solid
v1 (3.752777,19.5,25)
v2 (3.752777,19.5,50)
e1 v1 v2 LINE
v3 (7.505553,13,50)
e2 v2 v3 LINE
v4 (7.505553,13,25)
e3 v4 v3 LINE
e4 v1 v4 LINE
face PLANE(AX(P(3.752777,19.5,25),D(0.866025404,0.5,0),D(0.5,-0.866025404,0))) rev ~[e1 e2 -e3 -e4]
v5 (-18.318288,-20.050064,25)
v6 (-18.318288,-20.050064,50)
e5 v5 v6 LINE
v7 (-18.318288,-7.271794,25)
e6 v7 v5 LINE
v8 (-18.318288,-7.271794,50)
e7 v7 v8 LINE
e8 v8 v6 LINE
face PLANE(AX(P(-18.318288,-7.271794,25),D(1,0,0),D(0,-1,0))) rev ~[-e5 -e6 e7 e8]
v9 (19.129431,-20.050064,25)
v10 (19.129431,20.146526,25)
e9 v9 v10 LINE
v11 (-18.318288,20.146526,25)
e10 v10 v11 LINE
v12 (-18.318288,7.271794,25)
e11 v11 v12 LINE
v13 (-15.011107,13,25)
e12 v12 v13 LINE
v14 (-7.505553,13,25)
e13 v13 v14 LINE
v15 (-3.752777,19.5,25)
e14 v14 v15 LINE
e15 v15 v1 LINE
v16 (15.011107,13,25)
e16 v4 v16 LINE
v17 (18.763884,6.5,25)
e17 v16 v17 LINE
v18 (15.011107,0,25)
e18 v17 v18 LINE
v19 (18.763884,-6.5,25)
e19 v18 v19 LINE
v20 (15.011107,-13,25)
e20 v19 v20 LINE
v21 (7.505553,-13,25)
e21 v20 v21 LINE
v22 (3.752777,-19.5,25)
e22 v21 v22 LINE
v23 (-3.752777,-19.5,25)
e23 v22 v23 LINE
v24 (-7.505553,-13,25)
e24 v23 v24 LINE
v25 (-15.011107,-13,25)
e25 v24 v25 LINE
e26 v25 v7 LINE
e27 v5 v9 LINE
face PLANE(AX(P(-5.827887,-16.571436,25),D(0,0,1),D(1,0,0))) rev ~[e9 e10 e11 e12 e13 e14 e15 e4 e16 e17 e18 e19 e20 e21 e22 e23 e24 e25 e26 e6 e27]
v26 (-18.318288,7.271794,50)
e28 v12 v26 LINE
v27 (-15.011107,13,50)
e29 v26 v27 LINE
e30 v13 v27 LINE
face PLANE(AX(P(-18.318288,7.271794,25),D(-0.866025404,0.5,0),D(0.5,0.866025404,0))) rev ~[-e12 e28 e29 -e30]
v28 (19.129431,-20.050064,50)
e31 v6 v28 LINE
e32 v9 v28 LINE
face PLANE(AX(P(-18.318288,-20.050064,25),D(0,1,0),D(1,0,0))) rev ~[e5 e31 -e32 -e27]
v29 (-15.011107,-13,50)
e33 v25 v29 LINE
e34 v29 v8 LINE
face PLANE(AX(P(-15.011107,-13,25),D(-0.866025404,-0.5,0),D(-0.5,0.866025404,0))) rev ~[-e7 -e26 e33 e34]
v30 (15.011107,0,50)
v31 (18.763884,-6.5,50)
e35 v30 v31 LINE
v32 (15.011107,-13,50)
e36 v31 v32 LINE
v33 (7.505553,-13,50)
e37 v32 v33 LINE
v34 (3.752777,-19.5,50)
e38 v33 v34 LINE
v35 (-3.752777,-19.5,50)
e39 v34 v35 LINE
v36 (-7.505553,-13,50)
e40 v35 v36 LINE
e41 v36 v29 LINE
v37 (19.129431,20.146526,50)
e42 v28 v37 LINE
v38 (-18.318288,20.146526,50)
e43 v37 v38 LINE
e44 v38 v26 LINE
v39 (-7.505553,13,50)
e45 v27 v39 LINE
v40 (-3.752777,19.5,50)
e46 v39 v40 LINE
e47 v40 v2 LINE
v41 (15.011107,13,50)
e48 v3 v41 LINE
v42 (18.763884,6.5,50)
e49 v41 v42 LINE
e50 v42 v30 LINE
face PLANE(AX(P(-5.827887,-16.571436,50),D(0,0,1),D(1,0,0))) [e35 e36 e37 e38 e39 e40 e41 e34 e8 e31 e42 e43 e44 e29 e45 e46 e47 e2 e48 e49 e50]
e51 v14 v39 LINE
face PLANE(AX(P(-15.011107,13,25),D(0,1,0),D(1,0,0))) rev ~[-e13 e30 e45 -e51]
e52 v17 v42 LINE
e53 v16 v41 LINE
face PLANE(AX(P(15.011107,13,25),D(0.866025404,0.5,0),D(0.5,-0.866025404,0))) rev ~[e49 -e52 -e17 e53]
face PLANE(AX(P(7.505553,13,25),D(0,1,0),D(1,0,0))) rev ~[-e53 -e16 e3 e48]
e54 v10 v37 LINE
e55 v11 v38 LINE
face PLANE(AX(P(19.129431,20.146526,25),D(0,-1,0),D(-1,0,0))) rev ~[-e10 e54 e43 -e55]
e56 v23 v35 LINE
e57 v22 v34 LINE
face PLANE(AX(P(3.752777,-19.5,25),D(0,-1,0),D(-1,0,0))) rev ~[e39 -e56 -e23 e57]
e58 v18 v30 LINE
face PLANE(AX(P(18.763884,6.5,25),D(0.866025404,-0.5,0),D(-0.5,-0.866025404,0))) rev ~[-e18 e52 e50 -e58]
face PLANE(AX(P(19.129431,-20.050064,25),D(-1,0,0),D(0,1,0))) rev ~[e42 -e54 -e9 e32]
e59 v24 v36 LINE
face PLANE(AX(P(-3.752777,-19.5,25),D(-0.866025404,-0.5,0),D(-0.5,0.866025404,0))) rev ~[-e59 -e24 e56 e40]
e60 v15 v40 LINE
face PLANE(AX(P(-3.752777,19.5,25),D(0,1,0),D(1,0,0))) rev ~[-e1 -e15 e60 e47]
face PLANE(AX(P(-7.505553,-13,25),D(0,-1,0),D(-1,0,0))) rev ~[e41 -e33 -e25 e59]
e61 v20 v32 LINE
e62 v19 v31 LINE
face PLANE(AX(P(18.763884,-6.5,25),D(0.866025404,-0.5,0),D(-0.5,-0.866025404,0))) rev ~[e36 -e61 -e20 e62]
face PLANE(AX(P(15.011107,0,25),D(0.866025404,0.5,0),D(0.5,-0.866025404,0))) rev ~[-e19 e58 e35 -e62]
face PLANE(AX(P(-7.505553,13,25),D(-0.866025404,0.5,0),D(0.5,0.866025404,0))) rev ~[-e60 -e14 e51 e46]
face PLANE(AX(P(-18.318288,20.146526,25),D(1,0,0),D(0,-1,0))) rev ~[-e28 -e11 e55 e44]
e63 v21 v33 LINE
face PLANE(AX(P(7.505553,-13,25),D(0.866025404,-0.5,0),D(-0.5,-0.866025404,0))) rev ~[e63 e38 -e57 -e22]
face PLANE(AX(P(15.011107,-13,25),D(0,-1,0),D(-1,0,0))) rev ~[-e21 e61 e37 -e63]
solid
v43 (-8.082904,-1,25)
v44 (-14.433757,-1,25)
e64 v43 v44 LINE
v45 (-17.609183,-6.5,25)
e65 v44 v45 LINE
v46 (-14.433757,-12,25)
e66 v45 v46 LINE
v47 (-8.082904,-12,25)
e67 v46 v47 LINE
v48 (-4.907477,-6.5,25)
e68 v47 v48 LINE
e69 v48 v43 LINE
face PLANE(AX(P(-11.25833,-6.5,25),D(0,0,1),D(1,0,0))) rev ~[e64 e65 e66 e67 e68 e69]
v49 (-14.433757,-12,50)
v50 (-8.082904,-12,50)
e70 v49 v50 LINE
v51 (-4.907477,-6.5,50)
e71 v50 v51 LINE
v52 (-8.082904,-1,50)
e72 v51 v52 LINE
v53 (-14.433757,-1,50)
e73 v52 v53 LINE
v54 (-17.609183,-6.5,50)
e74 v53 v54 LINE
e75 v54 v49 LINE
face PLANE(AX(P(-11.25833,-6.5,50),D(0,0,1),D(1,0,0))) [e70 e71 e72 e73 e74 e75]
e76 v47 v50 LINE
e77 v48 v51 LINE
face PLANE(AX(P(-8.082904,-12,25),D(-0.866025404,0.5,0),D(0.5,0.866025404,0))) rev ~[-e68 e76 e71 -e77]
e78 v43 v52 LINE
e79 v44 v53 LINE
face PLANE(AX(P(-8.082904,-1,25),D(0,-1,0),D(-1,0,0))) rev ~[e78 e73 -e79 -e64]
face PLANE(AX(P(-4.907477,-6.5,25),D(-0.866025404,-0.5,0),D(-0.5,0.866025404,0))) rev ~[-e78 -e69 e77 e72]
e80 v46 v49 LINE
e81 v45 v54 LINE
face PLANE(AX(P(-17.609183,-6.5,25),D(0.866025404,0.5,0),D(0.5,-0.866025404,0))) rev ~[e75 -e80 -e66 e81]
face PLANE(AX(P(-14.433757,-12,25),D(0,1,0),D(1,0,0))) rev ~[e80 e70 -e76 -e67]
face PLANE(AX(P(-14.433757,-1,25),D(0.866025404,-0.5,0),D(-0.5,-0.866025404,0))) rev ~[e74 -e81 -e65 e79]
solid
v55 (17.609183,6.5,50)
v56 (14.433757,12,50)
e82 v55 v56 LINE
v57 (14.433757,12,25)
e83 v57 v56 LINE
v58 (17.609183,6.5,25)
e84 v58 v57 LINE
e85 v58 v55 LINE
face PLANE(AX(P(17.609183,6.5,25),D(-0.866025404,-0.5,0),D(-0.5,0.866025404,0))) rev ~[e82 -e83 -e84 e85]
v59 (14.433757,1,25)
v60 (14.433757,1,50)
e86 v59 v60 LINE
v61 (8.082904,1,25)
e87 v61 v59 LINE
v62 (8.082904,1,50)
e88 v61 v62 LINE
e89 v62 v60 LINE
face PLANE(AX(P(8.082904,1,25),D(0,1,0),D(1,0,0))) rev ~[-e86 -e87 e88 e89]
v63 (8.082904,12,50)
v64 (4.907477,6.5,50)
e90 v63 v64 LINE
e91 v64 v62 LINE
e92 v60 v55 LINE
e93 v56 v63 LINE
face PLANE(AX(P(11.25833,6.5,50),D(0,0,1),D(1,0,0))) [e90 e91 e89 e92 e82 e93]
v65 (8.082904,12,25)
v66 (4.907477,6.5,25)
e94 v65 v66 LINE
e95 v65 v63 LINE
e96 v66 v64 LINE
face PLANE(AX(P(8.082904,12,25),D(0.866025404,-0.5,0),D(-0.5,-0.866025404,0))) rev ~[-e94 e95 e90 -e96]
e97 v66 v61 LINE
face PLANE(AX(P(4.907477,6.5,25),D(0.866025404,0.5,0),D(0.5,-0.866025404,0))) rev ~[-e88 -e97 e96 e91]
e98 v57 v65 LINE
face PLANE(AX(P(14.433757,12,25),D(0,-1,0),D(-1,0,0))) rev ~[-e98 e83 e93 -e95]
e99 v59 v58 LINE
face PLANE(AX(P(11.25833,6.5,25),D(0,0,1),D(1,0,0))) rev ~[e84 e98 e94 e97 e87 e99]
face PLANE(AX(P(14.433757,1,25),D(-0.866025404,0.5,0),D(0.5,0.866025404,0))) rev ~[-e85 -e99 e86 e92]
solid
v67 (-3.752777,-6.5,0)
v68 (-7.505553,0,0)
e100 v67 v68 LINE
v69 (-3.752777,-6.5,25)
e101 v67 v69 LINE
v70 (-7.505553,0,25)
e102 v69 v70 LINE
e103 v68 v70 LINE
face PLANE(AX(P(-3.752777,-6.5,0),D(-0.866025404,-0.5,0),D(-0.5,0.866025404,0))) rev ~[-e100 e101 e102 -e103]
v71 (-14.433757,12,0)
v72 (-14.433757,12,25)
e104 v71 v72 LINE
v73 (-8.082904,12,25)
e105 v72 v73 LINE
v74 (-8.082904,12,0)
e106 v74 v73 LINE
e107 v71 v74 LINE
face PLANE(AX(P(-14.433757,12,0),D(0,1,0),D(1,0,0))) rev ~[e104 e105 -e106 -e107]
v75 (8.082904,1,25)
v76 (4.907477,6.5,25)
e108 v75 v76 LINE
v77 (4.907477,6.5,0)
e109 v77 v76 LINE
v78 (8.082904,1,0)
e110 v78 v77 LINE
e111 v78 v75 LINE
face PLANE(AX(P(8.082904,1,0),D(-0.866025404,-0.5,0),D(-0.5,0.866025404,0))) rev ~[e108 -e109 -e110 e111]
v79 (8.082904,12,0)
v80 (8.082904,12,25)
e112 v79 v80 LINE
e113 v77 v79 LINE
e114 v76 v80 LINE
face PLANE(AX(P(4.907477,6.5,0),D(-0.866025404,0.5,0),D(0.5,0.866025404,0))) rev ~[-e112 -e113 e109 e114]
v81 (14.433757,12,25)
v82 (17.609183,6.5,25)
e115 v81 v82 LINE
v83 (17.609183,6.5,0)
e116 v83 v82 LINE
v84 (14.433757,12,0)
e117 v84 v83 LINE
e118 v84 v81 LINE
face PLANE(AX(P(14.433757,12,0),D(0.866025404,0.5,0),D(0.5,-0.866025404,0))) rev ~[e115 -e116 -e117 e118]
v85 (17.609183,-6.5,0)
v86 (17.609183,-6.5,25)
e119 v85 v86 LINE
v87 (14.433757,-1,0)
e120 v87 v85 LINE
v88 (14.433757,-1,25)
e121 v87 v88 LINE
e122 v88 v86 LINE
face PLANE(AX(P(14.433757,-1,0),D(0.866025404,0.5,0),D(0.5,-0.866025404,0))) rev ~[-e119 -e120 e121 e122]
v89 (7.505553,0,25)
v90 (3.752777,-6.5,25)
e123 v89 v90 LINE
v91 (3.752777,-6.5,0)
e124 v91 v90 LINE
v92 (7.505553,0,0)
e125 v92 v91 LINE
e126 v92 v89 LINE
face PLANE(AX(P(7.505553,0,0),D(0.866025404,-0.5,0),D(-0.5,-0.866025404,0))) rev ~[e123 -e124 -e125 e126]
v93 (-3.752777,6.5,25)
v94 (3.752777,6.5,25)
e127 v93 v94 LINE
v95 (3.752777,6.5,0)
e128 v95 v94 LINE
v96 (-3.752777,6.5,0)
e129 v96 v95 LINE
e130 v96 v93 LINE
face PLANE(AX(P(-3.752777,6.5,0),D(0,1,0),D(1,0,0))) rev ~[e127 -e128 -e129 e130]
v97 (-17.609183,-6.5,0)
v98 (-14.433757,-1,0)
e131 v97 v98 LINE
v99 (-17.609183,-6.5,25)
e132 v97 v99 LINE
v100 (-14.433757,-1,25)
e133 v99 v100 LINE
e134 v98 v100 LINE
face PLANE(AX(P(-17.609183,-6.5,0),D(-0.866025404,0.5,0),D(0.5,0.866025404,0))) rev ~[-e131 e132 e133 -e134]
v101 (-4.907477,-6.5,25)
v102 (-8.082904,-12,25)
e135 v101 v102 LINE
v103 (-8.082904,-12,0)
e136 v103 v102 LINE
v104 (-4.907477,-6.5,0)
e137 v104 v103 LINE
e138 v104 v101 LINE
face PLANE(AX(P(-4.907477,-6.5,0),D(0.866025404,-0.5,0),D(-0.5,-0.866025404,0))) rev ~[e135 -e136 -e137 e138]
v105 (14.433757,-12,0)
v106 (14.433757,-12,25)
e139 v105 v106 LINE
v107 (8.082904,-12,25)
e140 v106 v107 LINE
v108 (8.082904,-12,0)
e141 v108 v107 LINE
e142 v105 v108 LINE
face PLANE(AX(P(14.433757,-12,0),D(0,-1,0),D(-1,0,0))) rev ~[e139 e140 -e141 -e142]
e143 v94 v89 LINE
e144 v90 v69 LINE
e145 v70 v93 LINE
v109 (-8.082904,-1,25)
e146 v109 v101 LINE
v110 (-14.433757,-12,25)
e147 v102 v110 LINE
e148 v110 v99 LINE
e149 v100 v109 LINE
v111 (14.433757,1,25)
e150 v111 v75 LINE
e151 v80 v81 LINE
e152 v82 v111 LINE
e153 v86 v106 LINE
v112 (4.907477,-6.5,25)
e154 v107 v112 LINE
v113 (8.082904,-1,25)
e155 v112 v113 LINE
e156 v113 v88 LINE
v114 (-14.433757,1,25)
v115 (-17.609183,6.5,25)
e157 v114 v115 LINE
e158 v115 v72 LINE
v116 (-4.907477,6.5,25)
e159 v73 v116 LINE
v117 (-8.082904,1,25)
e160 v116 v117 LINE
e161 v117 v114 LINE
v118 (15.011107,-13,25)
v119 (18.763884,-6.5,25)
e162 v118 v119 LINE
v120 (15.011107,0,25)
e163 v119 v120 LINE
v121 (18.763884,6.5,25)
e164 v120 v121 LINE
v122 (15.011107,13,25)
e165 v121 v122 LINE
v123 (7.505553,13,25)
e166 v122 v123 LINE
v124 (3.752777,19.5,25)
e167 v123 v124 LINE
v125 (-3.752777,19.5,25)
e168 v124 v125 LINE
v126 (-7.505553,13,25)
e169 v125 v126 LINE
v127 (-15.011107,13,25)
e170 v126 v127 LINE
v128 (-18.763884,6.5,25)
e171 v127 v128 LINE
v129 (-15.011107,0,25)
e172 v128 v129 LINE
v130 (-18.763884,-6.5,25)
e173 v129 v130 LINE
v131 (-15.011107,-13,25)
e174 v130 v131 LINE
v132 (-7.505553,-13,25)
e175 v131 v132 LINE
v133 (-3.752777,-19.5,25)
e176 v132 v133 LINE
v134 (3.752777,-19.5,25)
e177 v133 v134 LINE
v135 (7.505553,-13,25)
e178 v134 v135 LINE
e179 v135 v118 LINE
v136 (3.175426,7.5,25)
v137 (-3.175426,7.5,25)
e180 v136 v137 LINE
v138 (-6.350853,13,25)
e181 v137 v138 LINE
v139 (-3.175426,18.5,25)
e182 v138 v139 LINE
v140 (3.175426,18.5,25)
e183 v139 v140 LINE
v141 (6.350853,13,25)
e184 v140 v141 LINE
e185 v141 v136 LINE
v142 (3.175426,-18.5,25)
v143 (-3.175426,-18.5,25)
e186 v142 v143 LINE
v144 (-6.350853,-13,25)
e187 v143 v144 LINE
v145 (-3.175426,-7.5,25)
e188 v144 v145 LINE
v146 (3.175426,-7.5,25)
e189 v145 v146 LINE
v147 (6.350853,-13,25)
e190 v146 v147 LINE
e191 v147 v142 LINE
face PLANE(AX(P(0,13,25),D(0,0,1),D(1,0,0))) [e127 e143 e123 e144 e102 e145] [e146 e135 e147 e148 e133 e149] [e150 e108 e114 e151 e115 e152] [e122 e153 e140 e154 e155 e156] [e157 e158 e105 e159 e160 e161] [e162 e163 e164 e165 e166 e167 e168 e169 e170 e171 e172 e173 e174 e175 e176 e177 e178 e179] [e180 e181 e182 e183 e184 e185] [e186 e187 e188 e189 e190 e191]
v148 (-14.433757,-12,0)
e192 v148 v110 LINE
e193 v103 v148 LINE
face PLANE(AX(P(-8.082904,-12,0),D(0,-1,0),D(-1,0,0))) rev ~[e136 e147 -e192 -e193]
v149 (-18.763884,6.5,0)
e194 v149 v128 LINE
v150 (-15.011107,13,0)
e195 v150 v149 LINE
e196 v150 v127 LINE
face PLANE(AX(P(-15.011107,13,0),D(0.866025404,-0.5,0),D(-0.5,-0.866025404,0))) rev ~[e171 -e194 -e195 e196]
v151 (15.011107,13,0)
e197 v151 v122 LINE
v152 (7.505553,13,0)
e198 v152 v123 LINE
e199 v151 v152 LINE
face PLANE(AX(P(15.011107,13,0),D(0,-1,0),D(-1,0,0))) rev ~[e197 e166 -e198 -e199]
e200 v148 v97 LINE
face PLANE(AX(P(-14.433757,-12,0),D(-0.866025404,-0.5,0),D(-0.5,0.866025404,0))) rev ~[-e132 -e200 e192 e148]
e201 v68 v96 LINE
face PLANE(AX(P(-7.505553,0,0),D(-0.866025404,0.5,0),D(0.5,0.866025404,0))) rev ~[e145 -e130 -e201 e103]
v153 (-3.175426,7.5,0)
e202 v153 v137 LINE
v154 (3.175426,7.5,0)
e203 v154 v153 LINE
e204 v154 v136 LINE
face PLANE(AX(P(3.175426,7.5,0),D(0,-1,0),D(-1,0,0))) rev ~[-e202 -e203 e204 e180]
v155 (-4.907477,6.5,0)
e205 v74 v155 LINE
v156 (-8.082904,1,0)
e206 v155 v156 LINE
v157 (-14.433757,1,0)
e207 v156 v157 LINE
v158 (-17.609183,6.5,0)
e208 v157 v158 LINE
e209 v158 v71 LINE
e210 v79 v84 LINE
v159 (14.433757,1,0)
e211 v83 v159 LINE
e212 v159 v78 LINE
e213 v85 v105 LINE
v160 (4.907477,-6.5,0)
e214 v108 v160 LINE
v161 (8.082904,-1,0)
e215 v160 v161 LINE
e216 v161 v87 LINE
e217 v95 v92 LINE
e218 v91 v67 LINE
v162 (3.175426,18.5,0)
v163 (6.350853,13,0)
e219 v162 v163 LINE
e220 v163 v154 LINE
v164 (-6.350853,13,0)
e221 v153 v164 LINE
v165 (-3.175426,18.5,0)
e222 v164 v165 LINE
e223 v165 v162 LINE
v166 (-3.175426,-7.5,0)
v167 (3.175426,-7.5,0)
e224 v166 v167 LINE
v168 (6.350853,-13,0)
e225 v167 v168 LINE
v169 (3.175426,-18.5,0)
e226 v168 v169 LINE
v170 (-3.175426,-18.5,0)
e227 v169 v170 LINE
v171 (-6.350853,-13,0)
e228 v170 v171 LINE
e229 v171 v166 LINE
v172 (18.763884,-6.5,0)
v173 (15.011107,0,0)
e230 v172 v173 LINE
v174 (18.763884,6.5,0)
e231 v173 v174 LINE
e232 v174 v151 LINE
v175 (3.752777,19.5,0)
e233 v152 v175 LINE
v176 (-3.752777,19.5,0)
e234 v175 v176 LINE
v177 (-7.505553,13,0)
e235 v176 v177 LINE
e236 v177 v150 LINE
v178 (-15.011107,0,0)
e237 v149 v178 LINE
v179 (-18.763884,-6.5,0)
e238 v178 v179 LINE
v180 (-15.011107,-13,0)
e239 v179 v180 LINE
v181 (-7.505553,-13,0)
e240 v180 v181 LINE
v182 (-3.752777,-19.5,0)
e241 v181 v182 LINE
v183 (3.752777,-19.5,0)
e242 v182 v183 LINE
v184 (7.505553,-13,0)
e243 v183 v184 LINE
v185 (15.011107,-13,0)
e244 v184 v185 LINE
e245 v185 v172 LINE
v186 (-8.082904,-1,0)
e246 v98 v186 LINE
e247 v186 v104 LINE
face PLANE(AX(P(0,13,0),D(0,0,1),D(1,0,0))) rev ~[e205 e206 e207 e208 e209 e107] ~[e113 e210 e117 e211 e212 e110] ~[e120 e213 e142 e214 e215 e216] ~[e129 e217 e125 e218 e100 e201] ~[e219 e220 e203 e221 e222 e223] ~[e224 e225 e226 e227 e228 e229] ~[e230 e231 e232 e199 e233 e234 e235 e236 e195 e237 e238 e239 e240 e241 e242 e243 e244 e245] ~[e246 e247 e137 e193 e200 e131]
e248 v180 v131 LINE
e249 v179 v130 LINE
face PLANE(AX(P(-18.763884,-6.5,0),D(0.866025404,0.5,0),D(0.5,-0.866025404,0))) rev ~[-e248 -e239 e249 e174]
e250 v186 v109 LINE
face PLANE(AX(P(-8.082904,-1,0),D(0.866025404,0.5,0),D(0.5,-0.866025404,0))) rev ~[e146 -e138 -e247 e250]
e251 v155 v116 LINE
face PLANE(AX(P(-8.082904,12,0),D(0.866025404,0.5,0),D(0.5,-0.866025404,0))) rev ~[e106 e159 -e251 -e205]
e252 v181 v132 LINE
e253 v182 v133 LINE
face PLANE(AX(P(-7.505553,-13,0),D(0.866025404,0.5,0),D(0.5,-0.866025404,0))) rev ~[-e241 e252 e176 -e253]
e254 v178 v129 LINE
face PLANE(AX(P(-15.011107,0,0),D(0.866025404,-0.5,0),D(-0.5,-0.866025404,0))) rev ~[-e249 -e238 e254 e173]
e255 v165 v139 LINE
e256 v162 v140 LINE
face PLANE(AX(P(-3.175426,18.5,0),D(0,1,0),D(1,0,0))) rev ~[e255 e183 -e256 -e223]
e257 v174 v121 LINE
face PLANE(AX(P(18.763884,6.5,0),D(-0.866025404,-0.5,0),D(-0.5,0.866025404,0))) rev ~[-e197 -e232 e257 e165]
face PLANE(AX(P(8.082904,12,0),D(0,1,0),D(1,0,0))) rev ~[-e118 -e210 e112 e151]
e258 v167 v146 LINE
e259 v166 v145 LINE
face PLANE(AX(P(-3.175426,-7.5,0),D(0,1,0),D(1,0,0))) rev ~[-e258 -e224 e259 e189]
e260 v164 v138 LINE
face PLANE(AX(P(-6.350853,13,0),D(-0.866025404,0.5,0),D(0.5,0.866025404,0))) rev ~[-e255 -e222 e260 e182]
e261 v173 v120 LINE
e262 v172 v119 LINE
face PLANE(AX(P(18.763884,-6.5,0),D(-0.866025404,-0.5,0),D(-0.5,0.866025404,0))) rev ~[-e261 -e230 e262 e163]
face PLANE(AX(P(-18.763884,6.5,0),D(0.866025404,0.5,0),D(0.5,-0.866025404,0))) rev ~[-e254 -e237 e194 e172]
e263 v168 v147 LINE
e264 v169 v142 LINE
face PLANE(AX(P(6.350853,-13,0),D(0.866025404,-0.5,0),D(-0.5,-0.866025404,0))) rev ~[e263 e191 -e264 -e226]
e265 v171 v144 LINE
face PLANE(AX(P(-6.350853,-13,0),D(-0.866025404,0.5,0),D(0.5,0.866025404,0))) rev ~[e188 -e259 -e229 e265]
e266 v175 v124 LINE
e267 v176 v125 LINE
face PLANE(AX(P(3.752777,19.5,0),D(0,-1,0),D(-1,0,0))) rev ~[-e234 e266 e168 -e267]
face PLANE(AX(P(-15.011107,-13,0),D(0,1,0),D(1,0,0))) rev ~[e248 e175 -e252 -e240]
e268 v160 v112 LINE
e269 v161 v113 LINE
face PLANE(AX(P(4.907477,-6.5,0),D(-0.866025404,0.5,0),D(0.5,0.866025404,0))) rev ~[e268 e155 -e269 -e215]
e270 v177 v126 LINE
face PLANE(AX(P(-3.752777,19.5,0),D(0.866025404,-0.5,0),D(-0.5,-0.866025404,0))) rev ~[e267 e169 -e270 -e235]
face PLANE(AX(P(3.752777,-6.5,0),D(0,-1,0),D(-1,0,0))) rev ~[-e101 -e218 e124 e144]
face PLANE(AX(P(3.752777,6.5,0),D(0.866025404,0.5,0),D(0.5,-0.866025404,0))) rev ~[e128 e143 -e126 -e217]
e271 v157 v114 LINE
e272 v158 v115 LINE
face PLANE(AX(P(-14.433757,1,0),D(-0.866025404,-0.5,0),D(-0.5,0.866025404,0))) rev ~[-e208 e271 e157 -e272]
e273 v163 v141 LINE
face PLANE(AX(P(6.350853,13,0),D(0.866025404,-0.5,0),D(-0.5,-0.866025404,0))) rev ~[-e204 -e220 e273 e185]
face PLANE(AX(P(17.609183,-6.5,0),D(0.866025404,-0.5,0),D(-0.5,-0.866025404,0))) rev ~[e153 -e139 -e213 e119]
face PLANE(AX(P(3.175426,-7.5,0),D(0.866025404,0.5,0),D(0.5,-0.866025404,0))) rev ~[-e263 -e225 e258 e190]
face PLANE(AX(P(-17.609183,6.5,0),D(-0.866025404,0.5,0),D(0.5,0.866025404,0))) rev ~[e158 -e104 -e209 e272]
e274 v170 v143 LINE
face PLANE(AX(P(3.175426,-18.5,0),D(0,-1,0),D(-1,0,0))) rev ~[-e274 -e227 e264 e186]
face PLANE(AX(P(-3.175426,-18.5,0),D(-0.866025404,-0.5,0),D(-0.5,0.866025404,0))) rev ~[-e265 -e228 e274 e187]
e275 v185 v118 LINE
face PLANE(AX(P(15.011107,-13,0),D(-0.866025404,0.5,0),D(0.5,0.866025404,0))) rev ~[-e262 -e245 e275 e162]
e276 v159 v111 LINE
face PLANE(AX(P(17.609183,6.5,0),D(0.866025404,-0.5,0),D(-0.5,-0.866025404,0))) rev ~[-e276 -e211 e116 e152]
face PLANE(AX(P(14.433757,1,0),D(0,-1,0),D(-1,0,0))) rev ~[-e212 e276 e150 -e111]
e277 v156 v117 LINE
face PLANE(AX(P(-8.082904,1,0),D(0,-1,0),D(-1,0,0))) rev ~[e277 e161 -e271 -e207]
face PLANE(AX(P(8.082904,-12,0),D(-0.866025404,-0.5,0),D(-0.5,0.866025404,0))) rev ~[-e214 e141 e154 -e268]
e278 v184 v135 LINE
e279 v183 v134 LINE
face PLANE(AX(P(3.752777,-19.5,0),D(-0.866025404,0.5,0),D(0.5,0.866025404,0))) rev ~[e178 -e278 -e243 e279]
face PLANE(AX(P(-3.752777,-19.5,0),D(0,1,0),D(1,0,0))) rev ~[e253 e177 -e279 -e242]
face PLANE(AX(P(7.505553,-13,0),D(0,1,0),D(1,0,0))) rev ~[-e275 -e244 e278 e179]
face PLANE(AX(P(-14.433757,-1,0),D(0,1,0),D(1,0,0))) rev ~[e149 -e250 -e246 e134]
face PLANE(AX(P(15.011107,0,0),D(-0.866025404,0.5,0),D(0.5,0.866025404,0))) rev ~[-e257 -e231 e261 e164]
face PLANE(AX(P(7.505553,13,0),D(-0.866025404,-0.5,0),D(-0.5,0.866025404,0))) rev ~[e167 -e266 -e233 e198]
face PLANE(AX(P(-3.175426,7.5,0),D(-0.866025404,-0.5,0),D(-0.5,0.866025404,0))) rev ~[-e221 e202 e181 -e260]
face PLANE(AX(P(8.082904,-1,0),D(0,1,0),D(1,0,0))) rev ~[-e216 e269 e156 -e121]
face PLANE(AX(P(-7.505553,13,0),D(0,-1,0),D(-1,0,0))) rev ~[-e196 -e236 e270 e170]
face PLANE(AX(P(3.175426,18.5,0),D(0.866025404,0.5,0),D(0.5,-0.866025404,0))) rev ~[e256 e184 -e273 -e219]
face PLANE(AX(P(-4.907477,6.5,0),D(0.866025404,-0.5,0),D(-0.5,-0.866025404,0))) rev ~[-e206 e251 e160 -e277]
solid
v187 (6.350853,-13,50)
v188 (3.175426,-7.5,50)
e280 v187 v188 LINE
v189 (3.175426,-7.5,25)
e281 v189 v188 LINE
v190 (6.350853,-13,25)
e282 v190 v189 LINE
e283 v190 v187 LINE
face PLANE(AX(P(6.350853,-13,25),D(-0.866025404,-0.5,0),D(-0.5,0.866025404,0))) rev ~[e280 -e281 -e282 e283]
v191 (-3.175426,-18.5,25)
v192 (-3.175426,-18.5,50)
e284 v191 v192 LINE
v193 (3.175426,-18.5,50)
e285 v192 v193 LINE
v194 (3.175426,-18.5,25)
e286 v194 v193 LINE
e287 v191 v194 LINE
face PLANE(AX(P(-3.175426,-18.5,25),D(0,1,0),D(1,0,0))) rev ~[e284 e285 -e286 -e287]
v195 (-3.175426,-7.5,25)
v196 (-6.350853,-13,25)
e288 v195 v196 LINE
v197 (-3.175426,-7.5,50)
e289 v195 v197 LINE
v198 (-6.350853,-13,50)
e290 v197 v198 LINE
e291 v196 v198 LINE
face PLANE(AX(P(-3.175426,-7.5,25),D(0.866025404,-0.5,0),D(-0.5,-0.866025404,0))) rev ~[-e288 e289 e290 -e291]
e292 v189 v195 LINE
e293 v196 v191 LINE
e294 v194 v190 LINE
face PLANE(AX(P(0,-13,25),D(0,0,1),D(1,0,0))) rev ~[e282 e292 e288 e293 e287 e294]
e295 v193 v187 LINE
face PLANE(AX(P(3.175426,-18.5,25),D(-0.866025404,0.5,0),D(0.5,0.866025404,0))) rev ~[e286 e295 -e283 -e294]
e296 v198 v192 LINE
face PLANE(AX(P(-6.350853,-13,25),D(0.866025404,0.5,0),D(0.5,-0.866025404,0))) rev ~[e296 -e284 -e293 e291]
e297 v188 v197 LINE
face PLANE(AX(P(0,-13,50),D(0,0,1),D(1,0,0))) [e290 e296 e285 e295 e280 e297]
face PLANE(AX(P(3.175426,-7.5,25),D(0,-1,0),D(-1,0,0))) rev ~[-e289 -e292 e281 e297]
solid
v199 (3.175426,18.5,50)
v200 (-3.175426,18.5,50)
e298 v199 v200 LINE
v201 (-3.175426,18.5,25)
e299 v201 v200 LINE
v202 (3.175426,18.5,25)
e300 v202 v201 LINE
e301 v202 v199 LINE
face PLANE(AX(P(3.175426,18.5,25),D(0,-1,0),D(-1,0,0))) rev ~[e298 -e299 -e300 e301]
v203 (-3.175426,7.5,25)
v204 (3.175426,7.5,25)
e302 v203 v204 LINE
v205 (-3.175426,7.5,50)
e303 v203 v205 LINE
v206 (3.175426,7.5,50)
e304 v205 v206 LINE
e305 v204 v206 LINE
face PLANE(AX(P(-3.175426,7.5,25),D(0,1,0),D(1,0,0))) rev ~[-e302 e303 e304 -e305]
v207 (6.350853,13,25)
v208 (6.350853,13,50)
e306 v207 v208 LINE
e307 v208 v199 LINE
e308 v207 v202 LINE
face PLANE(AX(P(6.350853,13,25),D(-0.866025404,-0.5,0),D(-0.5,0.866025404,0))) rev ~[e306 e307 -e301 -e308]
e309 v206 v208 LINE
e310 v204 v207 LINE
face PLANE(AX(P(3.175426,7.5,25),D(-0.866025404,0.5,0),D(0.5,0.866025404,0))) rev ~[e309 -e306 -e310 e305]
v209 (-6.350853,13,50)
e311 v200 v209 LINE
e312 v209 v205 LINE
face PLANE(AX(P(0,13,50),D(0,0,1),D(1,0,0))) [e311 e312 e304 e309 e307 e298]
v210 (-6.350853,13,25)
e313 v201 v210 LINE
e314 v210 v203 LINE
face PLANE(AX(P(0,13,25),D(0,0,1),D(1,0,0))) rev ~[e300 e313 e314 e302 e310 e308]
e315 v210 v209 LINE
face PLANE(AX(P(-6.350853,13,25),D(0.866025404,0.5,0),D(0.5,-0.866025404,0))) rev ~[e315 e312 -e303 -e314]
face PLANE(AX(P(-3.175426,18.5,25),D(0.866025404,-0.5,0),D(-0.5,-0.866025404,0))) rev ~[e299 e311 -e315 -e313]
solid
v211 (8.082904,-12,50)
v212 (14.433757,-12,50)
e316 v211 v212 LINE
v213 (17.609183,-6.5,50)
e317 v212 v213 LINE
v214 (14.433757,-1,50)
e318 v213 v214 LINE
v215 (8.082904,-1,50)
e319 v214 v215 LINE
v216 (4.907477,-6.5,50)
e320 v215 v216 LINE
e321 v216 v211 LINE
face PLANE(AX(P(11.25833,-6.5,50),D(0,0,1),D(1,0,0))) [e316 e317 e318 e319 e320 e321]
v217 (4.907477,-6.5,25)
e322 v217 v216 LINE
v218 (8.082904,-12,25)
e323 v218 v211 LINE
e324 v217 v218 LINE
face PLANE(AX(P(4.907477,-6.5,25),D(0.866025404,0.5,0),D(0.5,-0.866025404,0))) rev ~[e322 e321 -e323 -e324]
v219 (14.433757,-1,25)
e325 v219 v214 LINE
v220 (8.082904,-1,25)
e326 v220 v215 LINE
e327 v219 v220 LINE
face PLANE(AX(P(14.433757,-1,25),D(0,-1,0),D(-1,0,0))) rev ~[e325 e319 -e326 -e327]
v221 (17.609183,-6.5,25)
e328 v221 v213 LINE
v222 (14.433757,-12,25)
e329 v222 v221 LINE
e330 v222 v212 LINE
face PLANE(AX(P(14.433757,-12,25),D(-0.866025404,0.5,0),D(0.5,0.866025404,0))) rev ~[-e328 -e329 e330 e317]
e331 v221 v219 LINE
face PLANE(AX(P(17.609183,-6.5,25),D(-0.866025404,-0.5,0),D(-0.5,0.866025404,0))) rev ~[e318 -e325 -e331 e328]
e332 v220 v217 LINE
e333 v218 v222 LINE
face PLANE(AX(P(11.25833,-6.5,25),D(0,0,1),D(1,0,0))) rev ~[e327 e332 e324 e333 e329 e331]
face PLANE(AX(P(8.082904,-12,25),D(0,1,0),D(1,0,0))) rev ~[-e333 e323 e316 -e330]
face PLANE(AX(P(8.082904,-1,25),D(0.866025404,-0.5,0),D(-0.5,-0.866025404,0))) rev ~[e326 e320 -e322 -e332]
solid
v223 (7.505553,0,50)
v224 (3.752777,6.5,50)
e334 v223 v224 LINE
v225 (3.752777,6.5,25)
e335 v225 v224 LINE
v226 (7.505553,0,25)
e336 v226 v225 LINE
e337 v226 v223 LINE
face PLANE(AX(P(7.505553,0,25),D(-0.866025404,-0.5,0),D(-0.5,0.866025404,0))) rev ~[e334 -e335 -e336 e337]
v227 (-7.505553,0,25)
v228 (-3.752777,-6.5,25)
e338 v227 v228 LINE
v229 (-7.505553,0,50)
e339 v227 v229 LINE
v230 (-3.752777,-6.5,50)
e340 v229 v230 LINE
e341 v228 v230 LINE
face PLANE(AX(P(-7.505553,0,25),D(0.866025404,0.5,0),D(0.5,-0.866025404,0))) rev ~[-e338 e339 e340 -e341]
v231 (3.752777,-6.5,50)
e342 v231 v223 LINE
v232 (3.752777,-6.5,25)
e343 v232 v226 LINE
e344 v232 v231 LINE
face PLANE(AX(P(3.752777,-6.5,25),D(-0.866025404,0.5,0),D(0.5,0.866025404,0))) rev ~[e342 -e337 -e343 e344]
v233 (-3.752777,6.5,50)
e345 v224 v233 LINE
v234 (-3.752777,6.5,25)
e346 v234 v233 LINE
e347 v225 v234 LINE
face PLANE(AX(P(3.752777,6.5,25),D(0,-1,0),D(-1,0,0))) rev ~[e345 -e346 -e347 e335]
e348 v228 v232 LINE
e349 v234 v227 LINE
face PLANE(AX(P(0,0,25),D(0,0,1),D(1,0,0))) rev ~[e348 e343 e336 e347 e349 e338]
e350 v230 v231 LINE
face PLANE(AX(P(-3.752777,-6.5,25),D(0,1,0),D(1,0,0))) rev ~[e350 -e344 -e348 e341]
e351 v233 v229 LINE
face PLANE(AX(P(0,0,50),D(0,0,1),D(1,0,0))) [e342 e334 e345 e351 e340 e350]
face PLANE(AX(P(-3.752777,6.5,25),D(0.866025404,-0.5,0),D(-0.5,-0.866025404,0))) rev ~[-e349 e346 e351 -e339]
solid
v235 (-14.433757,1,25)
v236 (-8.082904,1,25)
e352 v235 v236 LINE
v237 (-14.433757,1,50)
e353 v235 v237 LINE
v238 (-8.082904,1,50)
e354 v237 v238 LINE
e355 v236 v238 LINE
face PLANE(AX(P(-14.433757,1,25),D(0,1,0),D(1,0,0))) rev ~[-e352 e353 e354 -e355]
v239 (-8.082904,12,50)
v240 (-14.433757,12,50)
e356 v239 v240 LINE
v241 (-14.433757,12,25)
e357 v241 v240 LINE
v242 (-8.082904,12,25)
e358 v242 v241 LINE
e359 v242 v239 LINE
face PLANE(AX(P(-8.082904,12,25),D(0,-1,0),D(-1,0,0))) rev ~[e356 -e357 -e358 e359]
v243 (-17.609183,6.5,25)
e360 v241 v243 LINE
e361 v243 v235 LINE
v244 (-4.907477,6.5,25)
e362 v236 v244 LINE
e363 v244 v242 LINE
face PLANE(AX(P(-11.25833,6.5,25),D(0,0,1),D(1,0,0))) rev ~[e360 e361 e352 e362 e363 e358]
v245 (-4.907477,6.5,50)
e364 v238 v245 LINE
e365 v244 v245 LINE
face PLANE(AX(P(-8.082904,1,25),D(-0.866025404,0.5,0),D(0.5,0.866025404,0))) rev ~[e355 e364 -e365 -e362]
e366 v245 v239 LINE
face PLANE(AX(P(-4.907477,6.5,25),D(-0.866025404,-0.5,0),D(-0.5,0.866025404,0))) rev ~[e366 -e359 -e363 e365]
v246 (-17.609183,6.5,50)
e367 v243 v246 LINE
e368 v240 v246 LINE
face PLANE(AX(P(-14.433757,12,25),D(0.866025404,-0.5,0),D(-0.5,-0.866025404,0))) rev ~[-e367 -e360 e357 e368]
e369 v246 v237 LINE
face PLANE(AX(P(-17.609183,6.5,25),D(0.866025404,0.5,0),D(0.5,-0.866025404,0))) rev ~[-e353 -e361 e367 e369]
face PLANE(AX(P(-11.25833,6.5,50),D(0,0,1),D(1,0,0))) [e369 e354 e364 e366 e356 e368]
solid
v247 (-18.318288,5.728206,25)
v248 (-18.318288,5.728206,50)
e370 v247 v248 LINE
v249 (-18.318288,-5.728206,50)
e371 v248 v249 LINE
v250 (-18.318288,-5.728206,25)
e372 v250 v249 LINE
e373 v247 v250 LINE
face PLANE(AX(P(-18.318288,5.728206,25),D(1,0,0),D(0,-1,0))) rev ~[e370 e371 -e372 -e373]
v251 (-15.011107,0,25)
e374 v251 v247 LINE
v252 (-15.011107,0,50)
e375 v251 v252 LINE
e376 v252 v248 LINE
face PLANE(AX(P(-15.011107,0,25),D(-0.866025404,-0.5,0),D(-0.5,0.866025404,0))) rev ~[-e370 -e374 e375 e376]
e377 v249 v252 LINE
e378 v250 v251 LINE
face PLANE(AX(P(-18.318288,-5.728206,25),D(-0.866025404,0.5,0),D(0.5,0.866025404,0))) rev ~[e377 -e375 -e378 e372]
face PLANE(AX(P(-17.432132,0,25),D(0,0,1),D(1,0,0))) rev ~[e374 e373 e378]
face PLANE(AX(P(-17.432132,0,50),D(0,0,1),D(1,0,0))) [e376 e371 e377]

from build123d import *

# Parameters (mm, degrees)
F1_DEPTH = 25
F3_DEPTH = 25
F6_DEPTH = 25


with BuildPart() as f1:
    # F0 (on Top) → F1 (new body)
    with BuildSketch(Plane.XY):
        Polygon((-7.5055534995, 13), (-3.7527767497, 6.5), (3.7527767497, 6.5), (7.5055534995, 13), (3.7527767497, 19.5), (-3.7527767497, 19.5), align=None)
        Polygon((-3.1754264805, 7.5), (-6.3508529611, 13), (-3.1754264805, 18.5), (3.1754264805, 18.5), (6.3508529611, 13), (3.1754264805, 7.5), align=None, mode=Mode.SUBTRACT)
        Polygon((-7.5055534995, 0), (-3.7527767497, 6.5), (-7.5055534995, 13), (-15.0111069989, 13), (-18.7638837487, 6.5), (-15.0111069989, 0), align=None)
        Polygon((-8.0829037687, 1), (-14.4337567297, 1), (-17.6091832103, 6.5), (-14.4337567297, 12), (-8.0829037687, 12), (-4.9074772881, 6.5), align=None, mode=Mode.SUBTRACT)
        Polygon((7.5055534995, 13), (3.7527767497, 6.5), (7.5055534995, 0), (15.0111069989, 0), (18.7638837487, 6.5), (15.0111069989, 13), align=None)
        Polygon((8.0829037687, 1), (4.9074772881, 6.5), (8.0829037687, 12), (14.4337567297, 12), (17.6091832103, 6.5), (14.4337567297, 1), align=None, mode=Mode.SUBTRACT)
        Polygon((-3.7527767497, -6.5), (-7.5055534995, 0), (-15.0111069989, 0), (-18.7638837487, -6.5), (-15.0111069989, -13), (-7.5055534995, -13), align=None)
        Polygon((-14.4337567297, -12), (-17.6091832103, -6.5), (-14.4337567297, -1), (-8.0829037687, -1), (-4.9074772881, -6.5), (-8.0829037687, -12), align=None, mode=Mode.SUBTRACT)
        Polygon((15.0111069989, 0), (7.5055534995, 0), (3.7527767497, -6.5), (7.5055534995, -13), (15.0111069989, -13), (18.7638837487, -6.5), align=None)
        Polygon((8.0829037687, -12), (4.9074772881, -6.5), (8.0829037687, -1), (14.4337567297, -1), (17.6091832103, -6.5), (14.4337567297, -12), align=None, mode=Mode.SUBTRACT)
        Polygon((3.7527767497, -6.5), (-3.7527767497, -6.5), (-7.5055534995, -13), (-3.7527767497, -19.5), (3.7527767497, -19.5), (7.5055534995, -13), align=None)
        Polygon((3.1754264805, -18.5), (-3.1754264805, -18.5), (-6.3508529611, -13), (-3.1754264805, -7.5), (3.1754264805, -7.5), (6.3508529611, -13), align=None, mode=Mode.SUBTRACT)
    extrude(amount=F1_DEPTH)

    # F2 (on face) → F3 (join)
    with BuildSketch(Plane.XY.offset(25)):
        Polygon((3.7527767497, -19.5), (7.5055534995, -13), (15.0111069989, -13), (18.7638837487, -6.5), (15.0111069989, 0), (18.7638837487, 6.5), (15.0111069989, 13), (7.5055534995, 13), (3.7527767497, 19.5), (-3.7527767497, 19.5), (-7.5055534995, 13), (-15.0111069989, 13), (-18.7638837487, 6.5), (-15.0111069989, 0), (-18.7638837487, -6.5), (-15.0111069989, -13), (-7.5055534995, -13), (-3.7527767497, -19.5), align=None)
        Polygon((-8.0829037687, -1), (-4.9074772881, -6.5), (-8.0829037687, -12), (-14.4337567297, -12), (-17.6091832103, -6.5), (-14.4337567297, -1), align=None, mode=Mode.SUBTRACT)
        Polygon((-6.3508529611, -13), (-3.1754264805, -7.5), (3.1754264805, -7.5), (6.3508529611, -13), (3.1754264805, -18.5), (-3.1754264805, -18.5), align=None, mode=Mode.SUBTRACT)
        Polygon((17.6091832103, -6.5), (14.4337567297, -12), (8.0829037687, -12), (4.9074772881, -6.5), (8.0829037687, -1), (14.4337567297, -1), align=None, mode=Mode.SUBTRACT)
        Polygon((-14.4337567297, 12), (-8.0829037687, 12), (-4.9074772881, 6.5), (-8.0829037687, 1), (-14.4337567297, 1), (-17.6091832103, 6.5), align=None, mode=Mode.SUBTRACT)
        Polygon((3.1754264805, 18.5), (6.3508529611, 13), (3.1754264805, 7.5), (-3.1754264805, 7.5), (-6.3508529611, 13), (-3.1754264805, 18.5), align=None, mode=Mode.SUBTRACT)
        Polygon((-7.5055534995, 0), (-3.7527767497, 6.5), (3.7527767497, 6.5), (7.5055534995, 0), (3.7527767497, -6.5), (-3.7527767497, -6.5), align=None, mode=Mode.SUBTRACT)
        Polygon((14.4337567297, 12), (17.6091832103, 6.5), (14.4337567297, 1), (8.0829037687, 1), (4.9074772881, 6.5), (8.0829037687, 12), align=None, mode=Mode.SUBTRACT)
    extrude(amount=-F3_DEPTH)


with BuildPart() as f6:
    # F5 (on face) → F6 (new body)
    with BuildSketch(Plane.XY.offset(25)):
        Polygon((-15.0111069989, 0), (-18.3182880282, 5.7282055726), (-18.3182880282, -5.7282055726), align=None)
    extrude(amount=F6_DEPTH)


with BuildPart() as f6b:
    # F5 (on face) → F6, piece 2 (new body)
    with BuildSketch(Plane.XY.offset(25)):
        Polygon((-18.3182880282, -20.0500637293), (8.5395220667, -20.0500637293), (8.5395220667, -13), (7.5055534995, -13), (3.7527767497, -19.5), (-3.7527767497, -19.5), (-7.5055534995, -13), (-15.0111069989, -13), (-18.3182880282, -7.2717944274), (-18.3182880282, -19.2839857191), align=None)
        Polygon((19.1294308752, 20.1465263963), (8.5395220667, 20.1465263963), (8.5395220667, 13), (15.0111069989, 13), (18.7638837487, 6.5), (15.0111069989, 0), (18.7638837487, -6.5), (15.0111069989, -13), (8.5395220667, -13), (8.5395220667, -20.0500637293), (19.1294308752, -20.0500637293), align=None)
        Polygon((8.5395220667, 20.1465263963), (-18.3182880282, 20.1465263963), (-18.3182880282, 7.2717944274), (-15.0111069989, 13), (-7.5055534995, 13), (-3.7527767497, 19.5), (3.7527767497, 19.5), (7.5055534995, 13), (8.5395220667, 13), align=None)
    extrude(amount=F6_DEPTH)


with BuildPart() as f6c:
    # F4 (on face) → F6, piece 3 (new body)
    with BuildSketch(Plane.XY.offset(25)):
        Polygon((-4.9074772881, 6.5), (-8.0829037687, 12), (-14.4337567297, 12), (-17.6091832103, 6.5), (-14.4337567297, 1), (-8.0829037687, 1), align=None)
    extrude(amount=F6_DEPTH)


with BuildPart() as f6d:
    # F4 (on face) → F6, piece 4 (new body)
    with BuildSketch(Plane.XY.offset(25)):
        Polygon((-8.0829037687, -12), (-4.9074772881, -6.5), (-8.0829037687, -1), (-14.4337567297, -1), (-17.6091832103, -6.5), (-14.4337567297, -12), align=None)
    extrude(amount=F6_DEPTH)


with BuildPart() as f6e:
    # F4 (on face) → F6, piece 5 (new body)
    with BuildSketch(Plane.XY.offset(25)):
        Polygon((3.7527767497, 6.5), (-3.7527767497, 6.5), (-7.5055534995, 0), (-3.7527767497, -6.5), (3.7527767497, -6.5), (7.5055534995, 0), align=None)
    extrude(amount=F6_DEPTH)


with BuildPart() as f6f:
    # F4 (on face) → F6, piece 6 (new body)
    with BuildSketch(Plane.XY.offset(25)):
        Polygon((3.1754264805, -7.5), (-3.1754264805, -7.5), (-6.3508529611, -13), (-3.1754264805, -18.5), (3.1754264805, -18.5), (6.3508529611, -13), align=None)
    extrude(amount=F6_DEPTH)


with BuildPart() as f6g:
    # F4 (on face) → F6, piece 7 (new body)
    with BuildSketch(Plane.XY.offset(25)):
        Polygon((8.0829037687, -12), (14.4337567297, -12), (17.6091832103, -6.5), (14.4337567297, -1), (8.0829037687, -1), (4.9074772881, -6.5), align=None)
    extrude(amount=F6_DEPTH)


with BuildPart() as f6h:
    # F4 (on face) → F6, piece 8 (new body)
    with BuildSketch(Plane.XY.offset(25)):
        Polygon((14.4337567297, 1), (17.6091832103, 6.5), (14.4337567297, 12), (8.0829037687, 12), (4.9074772881, 6.5), (8.0829037687, 1), align=None)
    extrude(amount=F6_DEPTH)


with BuildPart() as f6i:
    # F4 (on face) → F6, piece 9 (new body)
    with BuildSketch(Plane.XY.offset(25)):
        Polygon((3.1754264805, 7.5), (6.3508529611, 13), (3.1754264805, 18.5), (-3.1754264805, 18.5), (-6.3508529611, 13), (-3.1754264805, 7.5), align=None)
    extrude(amount=F6_DEPTH)


solid = Compound([f1.part, f6.part, f6b.part, f6c.part, f6d.part, f6e.part, f6f.part, f6g.part, f6h.part, f6i.part])
